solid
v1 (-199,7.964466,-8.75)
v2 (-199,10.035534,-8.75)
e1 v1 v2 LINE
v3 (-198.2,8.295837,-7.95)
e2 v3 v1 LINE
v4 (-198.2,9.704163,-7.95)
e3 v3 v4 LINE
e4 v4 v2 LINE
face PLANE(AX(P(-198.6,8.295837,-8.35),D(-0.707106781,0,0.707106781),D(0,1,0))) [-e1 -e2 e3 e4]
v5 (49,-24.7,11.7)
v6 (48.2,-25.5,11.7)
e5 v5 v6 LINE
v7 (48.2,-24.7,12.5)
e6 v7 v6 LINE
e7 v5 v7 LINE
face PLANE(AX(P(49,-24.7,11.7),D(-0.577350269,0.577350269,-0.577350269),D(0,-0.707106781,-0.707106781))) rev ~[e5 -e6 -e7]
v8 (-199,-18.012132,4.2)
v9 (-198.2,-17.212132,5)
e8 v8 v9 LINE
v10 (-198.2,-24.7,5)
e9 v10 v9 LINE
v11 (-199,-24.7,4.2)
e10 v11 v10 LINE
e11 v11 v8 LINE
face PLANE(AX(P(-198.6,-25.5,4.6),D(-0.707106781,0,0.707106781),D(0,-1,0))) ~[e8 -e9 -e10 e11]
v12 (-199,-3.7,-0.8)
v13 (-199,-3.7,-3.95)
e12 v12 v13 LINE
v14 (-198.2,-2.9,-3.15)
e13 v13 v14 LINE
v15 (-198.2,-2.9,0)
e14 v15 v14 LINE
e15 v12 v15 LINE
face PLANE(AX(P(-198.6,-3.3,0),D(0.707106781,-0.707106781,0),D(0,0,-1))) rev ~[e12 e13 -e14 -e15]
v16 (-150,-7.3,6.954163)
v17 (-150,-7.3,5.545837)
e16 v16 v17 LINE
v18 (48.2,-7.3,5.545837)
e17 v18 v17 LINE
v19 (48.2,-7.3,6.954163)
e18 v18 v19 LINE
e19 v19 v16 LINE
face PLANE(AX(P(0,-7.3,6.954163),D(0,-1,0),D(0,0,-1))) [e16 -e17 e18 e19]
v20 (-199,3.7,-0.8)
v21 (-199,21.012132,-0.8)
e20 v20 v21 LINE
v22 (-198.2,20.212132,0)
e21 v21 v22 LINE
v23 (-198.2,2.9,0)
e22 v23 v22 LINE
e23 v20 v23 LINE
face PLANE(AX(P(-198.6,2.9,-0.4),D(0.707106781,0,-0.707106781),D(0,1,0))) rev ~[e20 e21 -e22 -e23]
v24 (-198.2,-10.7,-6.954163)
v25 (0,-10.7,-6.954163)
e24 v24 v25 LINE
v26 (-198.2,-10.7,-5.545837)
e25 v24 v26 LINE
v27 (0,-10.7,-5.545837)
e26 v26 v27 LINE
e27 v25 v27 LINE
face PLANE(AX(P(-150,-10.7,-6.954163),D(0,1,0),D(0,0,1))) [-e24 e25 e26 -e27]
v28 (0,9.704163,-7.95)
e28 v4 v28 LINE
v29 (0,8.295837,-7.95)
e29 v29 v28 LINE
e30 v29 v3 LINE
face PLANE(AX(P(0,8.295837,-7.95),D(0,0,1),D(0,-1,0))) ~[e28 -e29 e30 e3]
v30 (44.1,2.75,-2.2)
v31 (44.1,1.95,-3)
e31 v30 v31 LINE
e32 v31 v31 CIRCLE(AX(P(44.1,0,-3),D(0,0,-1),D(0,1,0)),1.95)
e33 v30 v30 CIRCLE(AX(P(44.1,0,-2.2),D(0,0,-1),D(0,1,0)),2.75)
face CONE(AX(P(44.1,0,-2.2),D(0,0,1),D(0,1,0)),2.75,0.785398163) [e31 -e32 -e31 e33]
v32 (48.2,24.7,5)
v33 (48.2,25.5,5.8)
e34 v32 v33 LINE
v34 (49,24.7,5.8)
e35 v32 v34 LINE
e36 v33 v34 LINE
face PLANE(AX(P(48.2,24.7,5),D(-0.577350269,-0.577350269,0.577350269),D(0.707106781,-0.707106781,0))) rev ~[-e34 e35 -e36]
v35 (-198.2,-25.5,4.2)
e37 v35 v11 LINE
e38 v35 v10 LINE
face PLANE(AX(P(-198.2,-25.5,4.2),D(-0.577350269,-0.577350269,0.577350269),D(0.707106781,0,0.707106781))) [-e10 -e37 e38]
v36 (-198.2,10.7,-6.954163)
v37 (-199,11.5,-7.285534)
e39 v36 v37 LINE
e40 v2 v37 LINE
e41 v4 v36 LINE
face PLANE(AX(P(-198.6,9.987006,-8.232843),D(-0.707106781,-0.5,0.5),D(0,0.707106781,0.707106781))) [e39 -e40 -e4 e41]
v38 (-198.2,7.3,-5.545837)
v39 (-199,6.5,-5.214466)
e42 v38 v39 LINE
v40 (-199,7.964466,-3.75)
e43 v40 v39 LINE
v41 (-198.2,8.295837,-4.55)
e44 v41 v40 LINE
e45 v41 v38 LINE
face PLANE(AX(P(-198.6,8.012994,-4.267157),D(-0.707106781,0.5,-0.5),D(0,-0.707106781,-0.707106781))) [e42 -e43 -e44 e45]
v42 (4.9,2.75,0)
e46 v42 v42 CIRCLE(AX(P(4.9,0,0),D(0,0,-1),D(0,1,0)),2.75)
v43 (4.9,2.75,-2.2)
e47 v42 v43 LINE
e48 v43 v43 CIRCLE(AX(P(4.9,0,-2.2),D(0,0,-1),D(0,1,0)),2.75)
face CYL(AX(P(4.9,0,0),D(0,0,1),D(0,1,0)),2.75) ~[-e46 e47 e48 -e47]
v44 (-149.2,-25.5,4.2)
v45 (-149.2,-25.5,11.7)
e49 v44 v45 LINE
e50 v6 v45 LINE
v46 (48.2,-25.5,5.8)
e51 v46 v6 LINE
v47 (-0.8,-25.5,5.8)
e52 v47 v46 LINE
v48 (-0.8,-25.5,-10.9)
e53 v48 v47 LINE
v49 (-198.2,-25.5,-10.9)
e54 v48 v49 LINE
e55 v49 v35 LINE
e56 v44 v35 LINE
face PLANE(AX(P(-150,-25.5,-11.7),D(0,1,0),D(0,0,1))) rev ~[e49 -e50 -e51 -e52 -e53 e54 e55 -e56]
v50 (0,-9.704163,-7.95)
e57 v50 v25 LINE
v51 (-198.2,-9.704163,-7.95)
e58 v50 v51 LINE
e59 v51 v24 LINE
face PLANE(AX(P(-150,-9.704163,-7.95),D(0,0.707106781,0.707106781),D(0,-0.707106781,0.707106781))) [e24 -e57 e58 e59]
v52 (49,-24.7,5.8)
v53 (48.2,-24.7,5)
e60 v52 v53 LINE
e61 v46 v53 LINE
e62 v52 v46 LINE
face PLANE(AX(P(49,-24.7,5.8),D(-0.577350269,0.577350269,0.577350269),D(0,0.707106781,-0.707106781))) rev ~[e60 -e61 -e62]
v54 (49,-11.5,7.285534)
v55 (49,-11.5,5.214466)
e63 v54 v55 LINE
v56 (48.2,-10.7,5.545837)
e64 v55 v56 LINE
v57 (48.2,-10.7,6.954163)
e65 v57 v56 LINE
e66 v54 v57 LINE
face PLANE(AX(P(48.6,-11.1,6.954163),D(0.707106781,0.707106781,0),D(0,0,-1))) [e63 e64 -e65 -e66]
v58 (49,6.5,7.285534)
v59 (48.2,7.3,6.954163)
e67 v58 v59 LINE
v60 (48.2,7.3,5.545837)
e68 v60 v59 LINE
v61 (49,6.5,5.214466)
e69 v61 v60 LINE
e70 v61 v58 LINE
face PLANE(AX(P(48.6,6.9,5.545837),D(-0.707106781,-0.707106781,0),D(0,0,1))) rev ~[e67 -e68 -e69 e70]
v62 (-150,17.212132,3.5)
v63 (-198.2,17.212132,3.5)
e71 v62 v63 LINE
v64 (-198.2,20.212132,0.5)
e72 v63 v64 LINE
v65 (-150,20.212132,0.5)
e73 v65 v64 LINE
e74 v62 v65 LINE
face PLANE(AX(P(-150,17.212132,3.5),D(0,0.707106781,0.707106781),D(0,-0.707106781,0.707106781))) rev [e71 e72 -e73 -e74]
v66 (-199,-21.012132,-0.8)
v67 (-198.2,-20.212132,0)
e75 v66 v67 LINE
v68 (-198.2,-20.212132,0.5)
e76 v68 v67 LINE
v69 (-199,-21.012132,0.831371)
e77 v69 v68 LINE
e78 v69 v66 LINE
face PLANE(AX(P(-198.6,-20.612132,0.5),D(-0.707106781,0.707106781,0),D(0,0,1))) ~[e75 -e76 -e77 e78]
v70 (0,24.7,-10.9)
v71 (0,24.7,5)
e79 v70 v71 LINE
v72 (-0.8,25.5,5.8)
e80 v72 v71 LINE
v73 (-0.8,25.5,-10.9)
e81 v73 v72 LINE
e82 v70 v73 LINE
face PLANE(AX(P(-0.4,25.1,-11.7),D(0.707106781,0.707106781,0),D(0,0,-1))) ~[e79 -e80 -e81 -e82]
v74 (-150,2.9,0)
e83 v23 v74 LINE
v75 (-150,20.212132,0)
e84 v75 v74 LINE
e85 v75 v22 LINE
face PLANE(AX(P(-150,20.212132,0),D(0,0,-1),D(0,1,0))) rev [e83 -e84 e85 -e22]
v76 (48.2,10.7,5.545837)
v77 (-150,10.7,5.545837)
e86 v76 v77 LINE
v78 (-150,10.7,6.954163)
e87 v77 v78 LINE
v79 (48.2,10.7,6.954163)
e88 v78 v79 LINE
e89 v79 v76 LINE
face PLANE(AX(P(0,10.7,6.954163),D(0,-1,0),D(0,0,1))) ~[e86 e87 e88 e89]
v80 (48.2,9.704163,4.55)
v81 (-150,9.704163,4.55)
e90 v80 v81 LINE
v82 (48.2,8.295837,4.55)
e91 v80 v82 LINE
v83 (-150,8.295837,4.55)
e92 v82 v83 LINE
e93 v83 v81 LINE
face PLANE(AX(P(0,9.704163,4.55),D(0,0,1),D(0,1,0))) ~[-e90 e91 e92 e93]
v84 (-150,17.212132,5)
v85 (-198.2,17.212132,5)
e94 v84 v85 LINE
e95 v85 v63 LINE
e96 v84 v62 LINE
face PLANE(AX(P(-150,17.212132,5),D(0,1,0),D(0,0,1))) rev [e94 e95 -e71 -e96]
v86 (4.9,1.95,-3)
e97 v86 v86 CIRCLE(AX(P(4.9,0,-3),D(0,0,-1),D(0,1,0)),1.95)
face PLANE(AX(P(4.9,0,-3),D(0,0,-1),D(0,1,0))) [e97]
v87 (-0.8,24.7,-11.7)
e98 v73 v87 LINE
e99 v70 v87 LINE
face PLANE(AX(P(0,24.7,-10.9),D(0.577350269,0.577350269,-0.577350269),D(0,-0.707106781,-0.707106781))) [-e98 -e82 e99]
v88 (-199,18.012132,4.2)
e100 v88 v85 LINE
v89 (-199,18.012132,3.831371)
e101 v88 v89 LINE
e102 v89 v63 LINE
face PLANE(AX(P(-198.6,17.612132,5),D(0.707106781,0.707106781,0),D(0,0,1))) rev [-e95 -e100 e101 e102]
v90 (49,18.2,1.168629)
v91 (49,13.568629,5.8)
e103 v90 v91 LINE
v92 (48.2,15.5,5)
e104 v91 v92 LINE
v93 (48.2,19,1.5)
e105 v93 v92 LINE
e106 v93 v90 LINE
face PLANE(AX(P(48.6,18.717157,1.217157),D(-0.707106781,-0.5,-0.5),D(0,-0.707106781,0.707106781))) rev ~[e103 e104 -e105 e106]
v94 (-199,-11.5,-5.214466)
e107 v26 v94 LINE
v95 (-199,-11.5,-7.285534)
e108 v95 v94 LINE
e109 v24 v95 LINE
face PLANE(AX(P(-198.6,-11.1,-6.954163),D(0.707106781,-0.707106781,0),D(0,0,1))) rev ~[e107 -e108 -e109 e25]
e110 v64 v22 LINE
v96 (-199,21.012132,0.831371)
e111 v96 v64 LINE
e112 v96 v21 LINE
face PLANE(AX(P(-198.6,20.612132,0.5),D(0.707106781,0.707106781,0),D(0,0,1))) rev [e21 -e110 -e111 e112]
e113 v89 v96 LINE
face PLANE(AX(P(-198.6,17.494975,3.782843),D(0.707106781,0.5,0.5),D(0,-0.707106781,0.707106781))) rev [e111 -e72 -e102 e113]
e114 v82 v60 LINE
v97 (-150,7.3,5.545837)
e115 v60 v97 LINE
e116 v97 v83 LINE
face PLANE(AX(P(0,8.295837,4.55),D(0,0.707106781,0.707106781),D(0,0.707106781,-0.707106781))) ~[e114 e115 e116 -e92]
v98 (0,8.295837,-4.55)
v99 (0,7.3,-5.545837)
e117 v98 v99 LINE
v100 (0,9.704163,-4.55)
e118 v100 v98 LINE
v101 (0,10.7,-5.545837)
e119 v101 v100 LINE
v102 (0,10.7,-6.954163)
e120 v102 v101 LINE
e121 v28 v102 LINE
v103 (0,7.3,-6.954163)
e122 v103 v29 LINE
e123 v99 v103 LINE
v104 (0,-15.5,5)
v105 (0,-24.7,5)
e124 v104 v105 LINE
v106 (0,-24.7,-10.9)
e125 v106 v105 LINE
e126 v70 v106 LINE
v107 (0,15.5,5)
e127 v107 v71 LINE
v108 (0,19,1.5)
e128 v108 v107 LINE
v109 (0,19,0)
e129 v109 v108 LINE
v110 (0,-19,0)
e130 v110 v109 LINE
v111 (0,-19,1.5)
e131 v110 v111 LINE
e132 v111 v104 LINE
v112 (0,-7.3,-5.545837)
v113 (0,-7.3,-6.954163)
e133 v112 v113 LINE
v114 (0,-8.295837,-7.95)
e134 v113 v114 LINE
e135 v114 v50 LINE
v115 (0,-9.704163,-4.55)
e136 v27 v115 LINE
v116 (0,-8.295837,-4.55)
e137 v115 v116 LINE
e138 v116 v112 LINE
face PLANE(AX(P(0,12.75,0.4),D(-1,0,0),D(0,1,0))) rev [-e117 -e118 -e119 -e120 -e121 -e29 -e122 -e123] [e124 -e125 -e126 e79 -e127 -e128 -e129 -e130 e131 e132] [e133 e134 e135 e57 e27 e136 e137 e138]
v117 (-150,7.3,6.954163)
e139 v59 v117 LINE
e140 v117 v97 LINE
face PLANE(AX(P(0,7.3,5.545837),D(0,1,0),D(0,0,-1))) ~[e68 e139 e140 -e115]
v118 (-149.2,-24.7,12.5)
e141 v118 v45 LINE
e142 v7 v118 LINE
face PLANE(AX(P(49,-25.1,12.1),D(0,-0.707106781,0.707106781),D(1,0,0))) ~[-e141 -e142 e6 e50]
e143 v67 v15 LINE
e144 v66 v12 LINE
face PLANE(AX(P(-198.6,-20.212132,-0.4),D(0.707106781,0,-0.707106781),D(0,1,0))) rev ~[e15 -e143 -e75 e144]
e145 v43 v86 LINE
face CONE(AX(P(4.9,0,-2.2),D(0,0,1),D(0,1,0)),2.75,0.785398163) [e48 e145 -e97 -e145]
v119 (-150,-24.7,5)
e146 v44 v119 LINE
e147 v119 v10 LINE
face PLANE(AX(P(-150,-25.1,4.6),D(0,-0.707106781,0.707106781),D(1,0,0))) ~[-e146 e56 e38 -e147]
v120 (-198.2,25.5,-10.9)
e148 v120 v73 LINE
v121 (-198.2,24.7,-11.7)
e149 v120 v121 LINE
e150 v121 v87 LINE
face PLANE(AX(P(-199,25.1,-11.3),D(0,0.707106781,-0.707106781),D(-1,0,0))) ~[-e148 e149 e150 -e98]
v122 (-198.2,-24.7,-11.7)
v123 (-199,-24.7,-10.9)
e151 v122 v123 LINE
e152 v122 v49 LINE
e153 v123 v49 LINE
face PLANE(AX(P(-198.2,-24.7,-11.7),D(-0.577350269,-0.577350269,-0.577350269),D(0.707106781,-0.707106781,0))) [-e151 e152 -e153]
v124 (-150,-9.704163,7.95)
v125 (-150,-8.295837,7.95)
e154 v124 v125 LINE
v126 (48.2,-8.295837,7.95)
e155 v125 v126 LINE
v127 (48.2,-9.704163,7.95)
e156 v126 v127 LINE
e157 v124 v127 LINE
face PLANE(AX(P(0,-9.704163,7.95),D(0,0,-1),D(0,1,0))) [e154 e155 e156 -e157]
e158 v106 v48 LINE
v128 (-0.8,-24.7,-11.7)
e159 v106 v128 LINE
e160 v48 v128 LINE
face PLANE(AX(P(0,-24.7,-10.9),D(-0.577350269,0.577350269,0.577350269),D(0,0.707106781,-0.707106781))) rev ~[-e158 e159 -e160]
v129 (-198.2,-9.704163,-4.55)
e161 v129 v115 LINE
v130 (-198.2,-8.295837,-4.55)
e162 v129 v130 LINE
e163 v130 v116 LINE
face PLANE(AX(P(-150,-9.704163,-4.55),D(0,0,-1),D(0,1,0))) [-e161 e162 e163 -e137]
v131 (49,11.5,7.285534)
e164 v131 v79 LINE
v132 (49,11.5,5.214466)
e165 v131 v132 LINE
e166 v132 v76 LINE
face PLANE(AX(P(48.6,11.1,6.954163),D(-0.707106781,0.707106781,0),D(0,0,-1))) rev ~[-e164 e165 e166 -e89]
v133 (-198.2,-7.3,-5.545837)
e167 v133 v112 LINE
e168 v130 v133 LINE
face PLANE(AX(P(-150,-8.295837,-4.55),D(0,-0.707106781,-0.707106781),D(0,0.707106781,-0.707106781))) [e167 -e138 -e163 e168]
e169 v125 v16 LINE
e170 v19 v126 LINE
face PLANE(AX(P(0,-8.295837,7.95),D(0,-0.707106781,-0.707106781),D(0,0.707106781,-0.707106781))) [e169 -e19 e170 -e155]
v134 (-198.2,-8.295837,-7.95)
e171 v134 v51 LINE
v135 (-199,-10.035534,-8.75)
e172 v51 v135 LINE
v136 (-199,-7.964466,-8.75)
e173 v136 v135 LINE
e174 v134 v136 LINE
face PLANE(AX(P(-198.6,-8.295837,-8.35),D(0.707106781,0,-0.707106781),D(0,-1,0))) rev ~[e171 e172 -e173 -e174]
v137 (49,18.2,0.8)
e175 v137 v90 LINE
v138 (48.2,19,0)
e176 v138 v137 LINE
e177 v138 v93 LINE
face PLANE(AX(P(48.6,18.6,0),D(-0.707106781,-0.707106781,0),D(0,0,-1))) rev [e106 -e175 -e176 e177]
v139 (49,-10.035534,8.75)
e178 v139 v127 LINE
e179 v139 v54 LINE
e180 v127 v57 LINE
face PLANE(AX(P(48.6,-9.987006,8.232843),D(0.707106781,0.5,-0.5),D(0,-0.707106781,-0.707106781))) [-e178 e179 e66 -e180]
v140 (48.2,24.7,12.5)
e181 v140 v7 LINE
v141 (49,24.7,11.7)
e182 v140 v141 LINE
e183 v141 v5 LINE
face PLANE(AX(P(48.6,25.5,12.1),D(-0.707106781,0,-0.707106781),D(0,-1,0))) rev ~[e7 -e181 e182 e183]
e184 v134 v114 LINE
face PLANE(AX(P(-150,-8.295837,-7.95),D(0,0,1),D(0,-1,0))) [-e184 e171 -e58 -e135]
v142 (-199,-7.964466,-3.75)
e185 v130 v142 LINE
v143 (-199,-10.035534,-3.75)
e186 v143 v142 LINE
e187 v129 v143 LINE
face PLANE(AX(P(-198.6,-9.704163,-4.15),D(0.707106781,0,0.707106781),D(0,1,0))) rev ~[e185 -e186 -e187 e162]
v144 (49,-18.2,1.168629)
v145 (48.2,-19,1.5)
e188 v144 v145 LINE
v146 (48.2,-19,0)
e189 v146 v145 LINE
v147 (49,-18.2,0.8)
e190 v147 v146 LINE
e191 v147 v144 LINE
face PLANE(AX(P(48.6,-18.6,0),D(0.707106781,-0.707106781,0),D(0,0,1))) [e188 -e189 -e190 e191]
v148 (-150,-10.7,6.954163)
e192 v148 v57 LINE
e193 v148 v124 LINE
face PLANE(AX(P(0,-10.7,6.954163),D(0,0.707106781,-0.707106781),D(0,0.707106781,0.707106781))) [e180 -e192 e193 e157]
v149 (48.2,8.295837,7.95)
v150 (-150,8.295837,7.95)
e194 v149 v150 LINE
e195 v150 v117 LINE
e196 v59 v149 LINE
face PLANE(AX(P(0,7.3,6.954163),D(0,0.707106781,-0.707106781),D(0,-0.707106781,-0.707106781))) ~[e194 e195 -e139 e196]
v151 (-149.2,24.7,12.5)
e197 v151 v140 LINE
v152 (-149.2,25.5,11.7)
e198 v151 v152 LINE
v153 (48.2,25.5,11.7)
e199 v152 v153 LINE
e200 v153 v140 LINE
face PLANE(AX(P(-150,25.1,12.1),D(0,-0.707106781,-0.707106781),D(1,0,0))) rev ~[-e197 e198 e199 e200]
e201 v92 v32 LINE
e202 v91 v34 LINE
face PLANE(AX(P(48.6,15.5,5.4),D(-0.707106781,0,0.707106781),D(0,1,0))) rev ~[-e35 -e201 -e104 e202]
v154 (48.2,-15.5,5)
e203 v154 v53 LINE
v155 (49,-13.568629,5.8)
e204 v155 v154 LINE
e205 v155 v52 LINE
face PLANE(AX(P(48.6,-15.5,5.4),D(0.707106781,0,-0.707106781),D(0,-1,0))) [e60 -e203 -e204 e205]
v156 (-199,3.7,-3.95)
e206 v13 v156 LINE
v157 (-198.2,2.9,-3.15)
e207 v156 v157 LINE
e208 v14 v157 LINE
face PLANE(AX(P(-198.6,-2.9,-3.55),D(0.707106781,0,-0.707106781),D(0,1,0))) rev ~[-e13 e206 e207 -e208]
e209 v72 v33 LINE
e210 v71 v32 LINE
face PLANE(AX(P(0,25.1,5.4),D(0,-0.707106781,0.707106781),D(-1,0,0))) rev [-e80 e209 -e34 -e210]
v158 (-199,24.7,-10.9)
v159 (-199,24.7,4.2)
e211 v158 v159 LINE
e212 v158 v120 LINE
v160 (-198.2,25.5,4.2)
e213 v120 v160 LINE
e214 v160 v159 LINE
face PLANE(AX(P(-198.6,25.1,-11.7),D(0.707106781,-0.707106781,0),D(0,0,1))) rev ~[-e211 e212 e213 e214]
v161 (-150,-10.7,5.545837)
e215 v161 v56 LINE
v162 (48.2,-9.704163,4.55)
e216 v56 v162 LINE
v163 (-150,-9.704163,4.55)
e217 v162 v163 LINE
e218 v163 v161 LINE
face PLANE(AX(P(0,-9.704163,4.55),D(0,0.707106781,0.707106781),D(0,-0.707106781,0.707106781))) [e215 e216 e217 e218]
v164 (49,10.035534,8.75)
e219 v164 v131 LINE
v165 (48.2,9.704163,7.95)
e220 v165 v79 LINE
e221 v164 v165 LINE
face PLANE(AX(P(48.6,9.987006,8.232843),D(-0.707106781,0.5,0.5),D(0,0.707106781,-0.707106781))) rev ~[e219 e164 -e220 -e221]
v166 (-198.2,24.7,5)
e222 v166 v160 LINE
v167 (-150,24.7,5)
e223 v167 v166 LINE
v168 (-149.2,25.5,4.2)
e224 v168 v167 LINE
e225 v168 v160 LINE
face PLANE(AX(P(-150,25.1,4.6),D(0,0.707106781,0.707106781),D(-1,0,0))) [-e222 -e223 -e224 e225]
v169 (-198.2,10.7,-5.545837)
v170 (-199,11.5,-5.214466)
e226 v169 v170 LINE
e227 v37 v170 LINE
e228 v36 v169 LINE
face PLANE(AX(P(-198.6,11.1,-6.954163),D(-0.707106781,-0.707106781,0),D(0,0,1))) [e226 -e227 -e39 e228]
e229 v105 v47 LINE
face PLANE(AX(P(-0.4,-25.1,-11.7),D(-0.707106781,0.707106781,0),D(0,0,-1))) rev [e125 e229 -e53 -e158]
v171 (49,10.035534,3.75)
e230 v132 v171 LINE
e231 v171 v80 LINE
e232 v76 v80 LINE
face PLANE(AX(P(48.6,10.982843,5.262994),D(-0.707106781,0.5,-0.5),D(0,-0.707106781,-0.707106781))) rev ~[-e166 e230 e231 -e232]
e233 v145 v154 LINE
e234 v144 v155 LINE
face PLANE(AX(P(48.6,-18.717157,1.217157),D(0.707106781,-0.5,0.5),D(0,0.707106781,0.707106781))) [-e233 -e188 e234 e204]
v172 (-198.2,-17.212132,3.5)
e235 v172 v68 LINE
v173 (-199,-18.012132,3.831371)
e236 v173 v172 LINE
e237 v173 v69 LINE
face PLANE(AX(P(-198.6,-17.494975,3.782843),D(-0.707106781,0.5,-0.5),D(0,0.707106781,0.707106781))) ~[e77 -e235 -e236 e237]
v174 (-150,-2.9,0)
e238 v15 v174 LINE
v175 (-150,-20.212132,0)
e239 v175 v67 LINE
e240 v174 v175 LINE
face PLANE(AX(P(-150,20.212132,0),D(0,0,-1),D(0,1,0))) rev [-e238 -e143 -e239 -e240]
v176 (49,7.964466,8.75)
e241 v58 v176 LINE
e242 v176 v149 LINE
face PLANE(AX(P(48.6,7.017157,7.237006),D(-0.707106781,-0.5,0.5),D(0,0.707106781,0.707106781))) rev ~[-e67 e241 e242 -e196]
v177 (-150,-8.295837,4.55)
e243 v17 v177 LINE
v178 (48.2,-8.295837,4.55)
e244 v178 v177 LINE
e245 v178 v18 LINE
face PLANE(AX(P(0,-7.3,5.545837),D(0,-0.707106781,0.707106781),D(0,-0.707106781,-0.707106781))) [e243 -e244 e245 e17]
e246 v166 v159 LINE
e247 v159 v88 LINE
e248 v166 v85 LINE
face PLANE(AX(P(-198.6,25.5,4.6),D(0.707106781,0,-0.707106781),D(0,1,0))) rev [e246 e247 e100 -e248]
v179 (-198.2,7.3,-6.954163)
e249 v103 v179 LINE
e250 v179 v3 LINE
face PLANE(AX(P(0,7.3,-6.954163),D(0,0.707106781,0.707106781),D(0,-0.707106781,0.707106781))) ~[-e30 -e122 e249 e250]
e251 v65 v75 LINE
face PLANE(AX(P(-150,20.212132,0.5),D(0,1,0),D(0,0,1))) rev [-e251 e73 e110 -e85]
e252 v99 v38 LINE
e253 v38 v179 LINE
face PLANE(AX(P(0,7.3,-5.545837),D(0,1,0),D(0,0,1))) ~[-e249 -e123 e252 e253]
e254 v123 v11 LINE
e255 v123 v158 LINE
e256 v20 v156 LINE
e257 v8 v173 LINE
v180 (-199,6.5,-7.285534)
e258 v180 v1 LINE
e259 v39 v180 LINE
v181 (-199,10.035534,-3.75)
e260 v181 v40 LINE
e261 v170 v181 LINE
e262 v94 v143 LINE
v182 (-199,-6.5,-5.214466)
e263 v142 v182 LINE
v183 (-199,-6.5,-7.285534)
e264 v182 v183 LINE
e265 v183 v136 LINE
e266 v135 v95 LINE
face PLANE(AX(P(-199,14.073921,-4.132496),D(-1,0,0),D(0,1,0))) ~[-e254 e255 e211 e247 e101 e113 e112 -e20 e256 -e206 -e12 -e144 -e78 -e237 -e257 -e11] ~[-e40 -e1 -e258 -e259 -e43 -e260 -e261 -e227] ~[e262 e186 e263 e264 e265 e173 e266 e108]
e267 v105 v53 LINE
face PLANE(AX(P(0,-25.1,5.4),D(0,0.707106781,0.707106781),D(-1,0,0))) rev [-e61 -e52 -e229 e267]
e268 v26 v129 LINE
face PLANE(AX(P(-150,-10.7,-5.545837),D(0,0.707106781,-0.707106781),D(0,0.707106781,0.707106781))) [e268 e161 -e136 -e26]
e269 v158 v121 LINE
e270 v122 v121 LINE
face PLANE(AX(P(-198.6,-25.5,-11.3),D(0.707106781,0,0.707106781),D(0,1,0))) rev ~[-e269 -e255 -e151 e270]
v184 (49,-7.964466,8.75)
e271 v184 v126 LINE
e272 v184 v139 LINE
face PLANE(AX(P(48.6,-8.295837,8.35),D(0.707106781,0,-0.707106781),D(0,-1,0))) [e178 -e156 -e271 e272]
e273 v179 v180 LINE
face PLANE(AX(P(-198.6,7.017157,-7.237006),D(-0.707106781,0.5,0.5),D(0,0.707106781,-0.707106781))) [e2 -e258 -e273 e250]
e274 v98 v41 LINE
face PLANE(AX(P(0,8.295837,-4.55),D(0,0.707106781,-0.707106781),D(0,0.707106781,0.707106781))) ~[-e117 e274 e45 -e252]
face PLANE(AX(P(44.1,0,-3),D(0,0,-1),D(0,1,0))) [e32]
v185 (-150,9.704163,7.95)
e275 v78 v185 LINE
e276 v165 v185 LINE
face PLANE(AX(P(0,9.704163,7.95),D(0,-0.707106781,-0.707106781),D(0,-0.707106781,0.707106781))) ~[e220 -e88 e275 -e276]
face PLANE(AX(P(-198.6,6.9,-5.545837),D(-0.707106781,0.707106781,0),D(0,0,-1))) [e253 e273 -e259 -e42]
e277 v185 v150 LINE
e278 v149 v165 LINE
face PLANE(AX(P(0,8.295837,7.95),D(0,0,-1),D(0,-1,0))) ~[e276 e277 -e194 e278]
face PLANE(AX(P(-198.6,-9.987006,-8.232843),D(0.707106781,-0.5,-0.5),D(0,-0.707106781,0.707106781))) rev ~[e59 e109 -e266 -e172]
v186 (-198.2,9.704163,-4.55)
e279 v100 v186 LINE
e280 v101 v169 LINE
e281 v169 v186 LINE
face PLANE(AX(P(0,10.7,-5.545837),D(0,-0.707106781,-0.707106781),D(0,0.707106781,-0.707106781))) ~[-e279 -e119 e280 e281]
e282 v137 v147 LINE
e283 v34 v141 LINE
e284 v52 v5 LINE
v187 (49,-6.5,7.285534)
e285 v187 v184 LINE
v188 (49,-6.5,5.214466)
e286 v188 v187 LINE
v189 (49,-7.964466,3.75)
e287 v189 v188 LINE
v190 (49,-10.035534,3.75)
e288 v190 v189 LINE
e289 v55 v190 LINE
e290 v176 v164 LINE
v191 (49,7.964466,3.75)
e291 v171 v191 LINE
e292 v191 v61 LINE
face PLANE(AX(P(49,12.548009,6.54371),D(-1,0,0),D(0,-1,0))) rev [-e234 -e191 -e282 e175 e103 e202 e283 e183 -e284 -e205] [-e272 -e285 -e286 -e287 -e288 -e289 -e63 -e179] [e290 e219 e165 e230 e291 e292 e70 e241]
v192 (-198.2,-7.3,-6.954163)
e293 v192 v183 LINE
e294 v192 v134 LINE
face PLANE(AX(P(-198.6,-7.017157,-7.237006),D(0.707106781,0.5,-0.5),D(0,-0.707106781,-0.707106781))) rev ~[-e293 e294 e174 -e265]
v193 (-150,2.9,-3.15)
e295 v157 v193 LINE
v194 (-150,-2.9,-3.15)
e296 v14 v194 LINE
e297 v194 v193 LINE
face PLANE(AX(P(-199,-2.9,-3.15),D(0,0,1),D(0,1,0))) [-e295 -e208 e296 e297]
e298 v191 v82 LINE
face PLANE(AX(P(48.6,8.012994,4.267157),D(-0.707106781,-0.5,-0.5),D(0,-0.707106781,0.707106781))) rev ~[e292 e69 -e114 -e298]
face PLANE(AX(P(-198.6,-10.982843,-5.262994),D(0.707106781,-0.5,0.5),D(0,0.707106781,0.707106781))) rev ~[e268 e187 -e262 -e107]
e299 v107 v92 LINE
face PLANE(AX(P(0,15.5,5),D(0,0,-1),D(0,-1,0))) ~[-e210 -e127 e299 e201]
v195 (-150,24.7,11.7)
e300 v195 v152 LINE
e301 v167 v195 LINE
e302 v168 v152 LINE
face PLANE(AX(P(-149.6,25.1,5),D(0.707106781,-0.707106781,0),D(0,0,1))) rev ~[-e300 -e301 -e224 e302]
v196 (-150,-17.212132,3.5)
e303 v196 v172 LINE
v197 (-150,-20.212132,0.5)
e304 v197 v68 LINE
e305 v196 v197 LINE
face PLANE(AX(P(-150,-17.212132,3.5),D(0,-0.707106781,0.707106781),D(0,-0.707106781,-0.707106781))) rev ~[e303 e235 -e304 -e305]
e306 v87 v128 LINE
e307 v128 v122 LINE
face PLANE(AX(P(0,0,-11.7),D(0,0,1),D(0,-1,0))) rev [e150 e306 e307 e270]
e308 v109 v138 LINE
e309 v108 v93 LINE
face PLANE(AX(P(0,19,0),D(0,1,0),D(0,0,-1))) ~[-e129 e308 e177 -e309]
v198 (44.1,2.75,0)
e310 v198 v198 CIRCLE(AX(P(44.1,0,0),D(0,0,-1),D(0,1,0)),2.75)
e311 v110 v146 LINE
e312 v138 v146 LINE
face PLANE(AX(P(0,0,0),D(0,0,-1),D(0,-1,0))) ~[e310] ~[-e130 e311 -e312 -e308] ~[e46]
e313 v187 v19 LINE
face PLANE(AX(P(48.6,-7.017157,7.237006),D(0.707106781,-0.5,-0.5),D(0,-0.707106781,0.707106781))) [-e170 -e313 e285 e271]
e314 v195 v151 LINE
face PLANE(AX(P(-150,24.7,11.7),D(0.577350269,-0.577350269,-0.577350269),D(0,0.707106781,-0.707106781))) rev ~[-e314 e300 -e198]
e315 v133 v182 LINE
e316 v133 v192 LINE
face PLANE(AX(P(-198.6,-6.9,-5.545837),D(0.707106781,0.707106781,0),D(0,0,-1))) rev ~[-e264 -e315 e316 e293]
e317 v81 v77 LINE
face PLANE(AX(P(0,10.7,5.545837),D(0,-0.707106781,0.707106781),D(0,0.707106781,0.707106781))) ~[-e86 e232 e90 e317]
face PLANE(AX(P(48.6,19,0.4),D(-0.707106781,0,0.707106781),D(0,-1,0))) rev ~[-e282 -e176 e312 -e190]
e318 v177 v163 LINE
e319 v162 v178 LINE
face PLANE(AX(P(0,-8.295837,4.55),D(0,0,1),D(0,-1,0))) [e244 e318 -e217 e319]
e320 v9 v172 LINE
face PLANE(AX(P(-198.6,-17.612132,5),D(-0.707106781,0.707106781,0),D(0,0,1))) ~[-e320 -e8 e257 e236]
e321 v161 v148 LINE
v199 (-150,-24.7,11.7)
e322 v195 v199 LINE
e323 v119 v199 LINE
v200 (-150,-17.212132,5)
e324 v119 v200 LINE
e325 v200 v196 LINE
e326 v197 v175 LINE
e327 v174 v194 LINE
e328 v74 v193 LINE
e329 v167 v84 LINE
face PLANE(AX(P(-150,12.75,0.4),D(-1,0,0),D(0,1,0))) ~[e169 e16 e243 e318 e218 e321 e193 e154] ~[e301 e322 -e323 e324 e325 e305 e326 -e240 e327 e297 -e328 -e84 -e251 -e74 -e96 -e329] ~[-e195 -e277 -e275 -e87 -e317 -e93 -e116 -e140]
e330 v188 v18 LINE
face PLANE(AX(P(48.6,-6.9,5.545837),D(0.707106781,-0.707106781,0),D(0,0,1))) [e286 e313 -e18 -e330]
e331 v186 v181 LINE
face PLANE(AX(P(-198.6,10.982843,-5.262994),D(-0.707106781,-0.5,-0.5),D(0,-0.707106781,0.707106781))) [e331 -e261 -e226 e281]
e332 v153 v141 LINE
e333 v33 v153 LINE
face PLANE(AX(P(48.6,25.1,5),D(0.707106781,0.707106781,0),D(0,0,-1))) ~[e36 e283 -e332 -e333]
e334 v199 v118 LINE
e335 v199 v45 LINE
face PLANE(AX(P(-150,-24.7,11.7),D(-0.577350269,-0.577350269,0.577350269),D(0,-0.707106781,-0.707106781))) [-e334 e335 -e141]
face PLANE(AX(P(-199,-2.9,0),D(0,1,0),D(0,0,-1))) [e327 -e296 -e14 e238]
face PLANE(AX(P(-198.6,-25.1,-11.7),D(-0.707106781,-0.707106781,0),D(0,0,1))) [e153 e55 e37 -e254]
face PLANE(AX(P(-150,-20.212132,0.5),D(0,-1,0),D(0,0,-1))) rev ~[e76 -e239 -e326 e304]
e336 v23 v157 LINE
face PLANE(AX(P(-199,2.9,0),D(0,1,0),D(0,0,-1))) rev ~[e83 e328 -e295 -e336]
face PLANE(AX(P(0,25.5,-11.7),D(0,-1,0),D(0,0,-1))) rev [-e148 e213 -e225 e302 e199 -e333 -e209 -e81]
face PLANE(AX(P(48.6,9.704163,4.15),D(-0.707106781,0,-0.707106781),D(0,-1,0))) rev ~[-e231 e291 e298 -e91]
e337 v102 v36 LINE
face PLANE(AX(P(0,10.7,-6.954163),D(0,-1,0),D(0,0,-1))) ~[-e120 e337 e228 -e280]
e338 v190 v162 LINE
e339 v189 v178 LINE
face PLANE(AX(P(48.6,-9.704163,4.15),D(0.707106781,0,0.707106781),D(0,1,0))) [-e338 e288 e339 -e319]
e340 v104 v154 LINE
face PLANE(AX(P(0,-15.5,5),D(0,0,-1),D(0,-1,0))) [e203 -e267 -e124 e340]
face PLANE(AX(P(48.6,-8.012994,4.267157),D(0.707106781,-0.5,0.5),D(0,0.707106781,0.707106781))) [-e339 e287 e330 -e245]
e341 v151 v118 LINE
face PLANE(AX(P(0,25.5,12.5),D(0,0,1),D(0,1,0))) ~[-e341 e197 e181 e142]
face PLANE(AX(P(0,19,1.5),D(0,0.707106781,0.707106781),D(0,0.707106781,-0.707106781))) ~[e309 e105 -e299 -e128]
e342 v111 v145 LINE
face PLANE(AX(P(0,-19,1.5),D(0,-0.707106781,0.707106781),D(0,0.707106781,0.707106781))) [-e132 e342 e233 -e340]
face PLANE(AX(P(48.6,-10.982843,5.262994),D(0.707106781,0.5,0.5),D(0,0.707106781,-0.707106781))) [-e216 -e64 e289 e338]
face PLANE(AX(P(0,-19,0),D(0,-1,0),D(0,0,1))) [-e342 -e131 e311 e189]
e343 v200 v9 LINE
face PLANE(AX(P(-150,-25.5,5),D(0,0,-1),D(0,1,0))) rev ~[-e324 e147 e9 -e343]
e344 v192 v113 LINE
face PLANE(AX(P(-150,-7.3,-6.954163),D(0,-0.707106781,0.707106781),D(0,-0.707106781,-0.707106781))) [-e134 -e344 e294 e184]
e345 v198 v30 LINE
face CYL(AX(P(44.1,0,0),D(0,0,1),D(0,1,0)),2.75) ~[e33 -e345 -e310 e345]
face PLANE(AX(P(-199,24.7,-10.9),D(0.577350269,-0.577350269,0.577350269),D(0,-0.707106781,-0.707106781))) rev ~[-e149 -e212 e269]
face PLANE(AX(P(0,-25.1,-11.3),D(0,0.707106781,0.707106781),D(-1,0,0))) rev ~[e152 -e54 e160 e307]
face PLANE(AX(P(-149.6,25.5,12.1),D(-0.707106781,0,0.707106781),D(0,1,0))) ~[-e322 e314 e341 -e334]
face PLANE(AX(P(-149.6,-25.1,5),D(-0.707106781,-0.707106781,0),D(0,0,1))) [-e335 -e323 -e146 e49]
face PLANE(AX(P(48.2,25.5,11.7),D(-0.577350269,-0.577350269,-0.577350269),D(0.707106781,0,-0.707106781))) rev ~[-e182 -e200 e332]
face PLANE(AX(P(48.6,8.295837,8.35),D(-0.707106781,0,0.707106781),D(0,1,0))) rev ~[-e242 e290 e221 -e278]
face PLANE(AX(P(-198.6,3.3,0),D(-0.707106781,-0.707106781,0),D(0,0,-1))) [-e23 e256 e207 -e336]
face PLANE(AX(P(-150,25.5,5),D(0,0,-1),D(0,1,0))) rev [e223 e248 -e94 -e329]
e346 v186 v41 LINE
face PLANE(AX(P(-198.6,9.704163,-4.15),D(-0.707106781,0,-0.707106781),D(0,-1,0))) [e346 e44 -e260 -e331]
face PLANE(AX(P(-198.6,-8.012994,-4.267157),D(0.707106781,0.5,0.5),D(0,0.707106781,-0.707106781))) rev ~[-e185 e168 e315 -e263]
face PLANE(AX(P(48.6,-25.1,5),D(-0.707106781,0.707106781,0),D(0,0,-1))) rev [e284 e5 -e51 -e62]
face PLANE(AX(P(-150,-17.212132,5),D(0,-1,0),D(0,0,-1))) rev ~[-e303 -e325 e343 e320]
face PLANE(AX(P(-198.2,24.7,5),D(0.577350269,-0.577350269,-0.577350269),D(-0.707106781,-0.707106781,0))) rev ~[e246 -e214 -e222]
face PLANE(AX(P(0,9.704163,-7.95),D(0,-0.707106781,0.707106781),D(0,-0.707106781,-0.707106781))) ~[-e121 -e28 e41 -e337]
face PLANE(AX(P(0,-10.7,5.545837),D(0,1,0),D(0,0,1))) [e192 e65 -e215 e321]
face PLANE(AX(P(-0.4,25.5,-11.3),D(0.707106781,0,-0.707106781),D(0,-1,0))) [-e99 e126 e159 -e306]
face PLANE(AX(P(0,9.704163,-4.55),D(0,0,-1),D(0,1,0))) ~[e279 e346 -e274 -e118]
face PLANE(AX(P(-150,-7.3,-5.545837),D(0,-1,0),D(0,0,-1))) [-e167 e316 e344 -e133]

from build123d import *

# Parameters (mm, degrees)
PAD_DEPTH    = 49
PAD001_DEPTH = 150
PAD002_DEPTH = 49
SKETCH003_R  = 2.75
PAD003_DEPTH = 3
SKETCH004_W  = 5.8
SKETCH004_H  = 3.15
POCKET_DEPTH = 49
CHAMFER_SIZE = 0.8


with BuildPart() as part:
    # Sketch → Pad (new body)
    with BuildSketch(Plane.YZ):
        Polygon((0, 0), (-19, 0), (-19, 1.5), (-15.5, 5), (-25.5, 5), (-25.5, 12.5), (0, 12.5), align=None)
        Polygon((-10.7, 6.954163), (-10.7, 5.545837), (-9.704163, 4.55), (-8.295837, 4.55), (-7.3, 5.545837), (-7.3, 6.954163), (-8.295837, 7.95), (-9.704163, 7.95), align=None, mode=Mode.SUBTRACT)
    pad = extrude(amount=PAD_DEPTH)

    # Sketch001 (on Face16 of Pad) → Pad001 (join)
    with BuildSketch(Plane(origin=(0, 0, 0), x_dir=(0, 1, 0), z_dir=(-1, 0, 0))):
        Polygon((0, 0), (0, 11.7), (-25.5, 11.7), (-25.5, -12.5), (0, -12.5), align=None)
        Polygon((-9.704163, -4.55), (-10.7, -5.545837), (-10.7, -6.954163), (-9.704163, -7.95), (-8.295837, -7.95), (-7.3, -6.954163), (-7.3, -5.545837), (-8.295837, -4.55), align=None, mode=Mode.SUBTRACT)
        Polygon((-9.704163, 7.95), (-10.7, 6.954163), (-10.7, 5.545837), (-9.704163, 4.55), (-8.295837, 4.55), (-7.3, 5.545837), (-7.3, 6.954163), (-8.295837, 7.95), align=None, mode=Mode.SUBTRACT)
    pad001 = extrude(amount=PAD001_DEPTH)

    # Sketch002 (on Face16 of Pad001) → Pad002 (join)
    with BuildSketch(Plane(origin=(-150, 0, 0), x_dir=(0, 1, 0), z_dir=(-1, 0, 0))):
        Polygon((0, 11.7), (-25.5, 11.7), (-25.5, -5), (-17.212132, -5), (-17.212132, -3.5), (-20.212132, -0.5), (-20.212132, 0), (0, 0), align=None)
        Polygon((-9.704163, 7.95), (-10.7, 6.954163), (-10.7, 5.545837), (-9.704163, 4.55), (-8.295837, 4.55), (-7.3, 5.545837), (-7.3, 6.954163), (-8.295837, 7.95), align=None, mode=Mode.SUBTRACT)
    pad002 = extrude(amount=PAD002_DEPTH)

    # Mirrored: Pad002, Pad001, Pad across Sketch002 V_Axis
    add(pad002.mirror(Plane(origin=(-150, 0, 0), x_dir=(-1, 0, 0), z_dir=(0, 1, 0))))
    add(pad001.mirror(Plane(origin=(-150, 0, 0), x_dir=(-1, 0, 0), z_dir=(0, 1, 0))))
    add(pad.mirror(Plane(origin=(-150, 0, 0), x_dir=(-1, 0, 0), z_dir=(0, 1, 0))))

    # Sketch003 (on Face30 of Mirrored) → Pad003 (join)
    with BuildSketch(Plane.YX):
        with Locations((0, 44.1)):
            Circle(SKETCH003_R)
        with Locations((0, 4.9)):
            Circle(SKETCH003_R)
    extrude(amount=PAD003_DEPTH)

    # Sketch004 (on Face8 of Pad003) → Pocket (cut)
    with BuildSketch(Plane(origin=(-199, 0, 0), x_dir=(0, 1, 0), z_dir=(-1, 0, 0))):
        with Locations((0, 1.575)):
            Rectangle(SKETCH004_W, SKETCH004_H)
    extrude(amount=-POCKET_DEPTH, mode=Mode.SUBTRACT)

    # Chamfer
    chamfer_edges = [part.edges().sort_by_distance(p)[0] for p in [
        (-50.5, -25.5, 12.5),
        (49, 0, 12.5),
        (-50.5, 25.5, 12.5),
        (-150, 0, 12.5),
        (-99.5, 25.5, -11.7),
        (-199, 25.5, -3.35),
        (-174.5, 25.5, 5),
        (-150, 25.5, 8.75),
        (49, 25.5, 8.75),
        (24.5, 25.5, 5),
        (0, 25.5, -3.35),
        (-199, -17.212132, 4.25),
        (-199, -21.356066, 5),
        (-199, -25.5, -3.35),
        (-199, 0, -11.7),
        (-199, 21.356066, 5),
        (-199, 17.212132, 4.25),
        (-199, 18.712132, 2),
        (-199, 20.212132, 0.25),
        (-199, 11.556066, 0),
        (-199, 2.9, -1.575),
        (-199, 0, -3.15),
        (-199, -2.9, -1.575),
        (-199, -11.556066, 0),
        (-199, -20.212132, 0.25),
        (-199, -18.712132, 2),
        (-199, -10.202082, -7.452082),
        (-199, -9, -7.95),
        (-199, -10.7, -6.25),
        (-199, -7.797918, -7.452082),
        (-199, -10.202082, -5.047918),
        (-199, -7.3, -6.25),
        (-199, -9, -4.55),
        (-199, -7.797918, -5.047918),
        (-199, 10.202082, -7.452082),
        (-199, 9, -7.95),
        (-199, 10.7, -6.25),
        (-199, 7.797918, -7.452082),
        (-199, 10.202082, -5.047918),
        (-199, 7.3, -6.25),
        (-199, 9, -4.55),
        (-199, 7.797918, -5.047918),
        (24.5, -25.5, 5),
        (49, -25.5, 8.75),
        (-150, -25.5, 8.75),
        (-174.5, -25.5, 5),
        (-99.5, -25.5, -11.7),
        (0, -25.5, -3.35),
        (0, 0, -11.7),
        (49, -17.25, 3.25),
        (49, -19, 0.75),
        (49, 0, 0),
        (49, 19, 0.75),
        (49, 17.25, 3.25),
        (49, 20.5, 5),
        (49, -20.5, 5),
        (49, -10.7, 6.25),
        (49, -10.202082, 7.452082),
        (49, -9, 7.95),
        (49, -7.797918, 7.452082),
        (49, -7.3, 6.25),
        (49, -7.797918, 5.047918),
        (49, -9, 4.55),
        (49, -10.202082, 5.047918),
        (49, 10.7, 6.25),
        (49, 10.202082, 5.047918),
        (49, 9, 4.55),
        (49, 7.797918, 5.047918),
        (49, 7.3, 6.25),
        (49, 7.797918, 7.452082),
        (49, 9, 7.95),
        (49, 10.202082, 7.452082),
        (44.1, -2.75, -3),
        (4.9, -2.75, -3),
    ]]
    chamfer(chamfer_edges, length=CHAMFER_SIZE)


solid = part.part
